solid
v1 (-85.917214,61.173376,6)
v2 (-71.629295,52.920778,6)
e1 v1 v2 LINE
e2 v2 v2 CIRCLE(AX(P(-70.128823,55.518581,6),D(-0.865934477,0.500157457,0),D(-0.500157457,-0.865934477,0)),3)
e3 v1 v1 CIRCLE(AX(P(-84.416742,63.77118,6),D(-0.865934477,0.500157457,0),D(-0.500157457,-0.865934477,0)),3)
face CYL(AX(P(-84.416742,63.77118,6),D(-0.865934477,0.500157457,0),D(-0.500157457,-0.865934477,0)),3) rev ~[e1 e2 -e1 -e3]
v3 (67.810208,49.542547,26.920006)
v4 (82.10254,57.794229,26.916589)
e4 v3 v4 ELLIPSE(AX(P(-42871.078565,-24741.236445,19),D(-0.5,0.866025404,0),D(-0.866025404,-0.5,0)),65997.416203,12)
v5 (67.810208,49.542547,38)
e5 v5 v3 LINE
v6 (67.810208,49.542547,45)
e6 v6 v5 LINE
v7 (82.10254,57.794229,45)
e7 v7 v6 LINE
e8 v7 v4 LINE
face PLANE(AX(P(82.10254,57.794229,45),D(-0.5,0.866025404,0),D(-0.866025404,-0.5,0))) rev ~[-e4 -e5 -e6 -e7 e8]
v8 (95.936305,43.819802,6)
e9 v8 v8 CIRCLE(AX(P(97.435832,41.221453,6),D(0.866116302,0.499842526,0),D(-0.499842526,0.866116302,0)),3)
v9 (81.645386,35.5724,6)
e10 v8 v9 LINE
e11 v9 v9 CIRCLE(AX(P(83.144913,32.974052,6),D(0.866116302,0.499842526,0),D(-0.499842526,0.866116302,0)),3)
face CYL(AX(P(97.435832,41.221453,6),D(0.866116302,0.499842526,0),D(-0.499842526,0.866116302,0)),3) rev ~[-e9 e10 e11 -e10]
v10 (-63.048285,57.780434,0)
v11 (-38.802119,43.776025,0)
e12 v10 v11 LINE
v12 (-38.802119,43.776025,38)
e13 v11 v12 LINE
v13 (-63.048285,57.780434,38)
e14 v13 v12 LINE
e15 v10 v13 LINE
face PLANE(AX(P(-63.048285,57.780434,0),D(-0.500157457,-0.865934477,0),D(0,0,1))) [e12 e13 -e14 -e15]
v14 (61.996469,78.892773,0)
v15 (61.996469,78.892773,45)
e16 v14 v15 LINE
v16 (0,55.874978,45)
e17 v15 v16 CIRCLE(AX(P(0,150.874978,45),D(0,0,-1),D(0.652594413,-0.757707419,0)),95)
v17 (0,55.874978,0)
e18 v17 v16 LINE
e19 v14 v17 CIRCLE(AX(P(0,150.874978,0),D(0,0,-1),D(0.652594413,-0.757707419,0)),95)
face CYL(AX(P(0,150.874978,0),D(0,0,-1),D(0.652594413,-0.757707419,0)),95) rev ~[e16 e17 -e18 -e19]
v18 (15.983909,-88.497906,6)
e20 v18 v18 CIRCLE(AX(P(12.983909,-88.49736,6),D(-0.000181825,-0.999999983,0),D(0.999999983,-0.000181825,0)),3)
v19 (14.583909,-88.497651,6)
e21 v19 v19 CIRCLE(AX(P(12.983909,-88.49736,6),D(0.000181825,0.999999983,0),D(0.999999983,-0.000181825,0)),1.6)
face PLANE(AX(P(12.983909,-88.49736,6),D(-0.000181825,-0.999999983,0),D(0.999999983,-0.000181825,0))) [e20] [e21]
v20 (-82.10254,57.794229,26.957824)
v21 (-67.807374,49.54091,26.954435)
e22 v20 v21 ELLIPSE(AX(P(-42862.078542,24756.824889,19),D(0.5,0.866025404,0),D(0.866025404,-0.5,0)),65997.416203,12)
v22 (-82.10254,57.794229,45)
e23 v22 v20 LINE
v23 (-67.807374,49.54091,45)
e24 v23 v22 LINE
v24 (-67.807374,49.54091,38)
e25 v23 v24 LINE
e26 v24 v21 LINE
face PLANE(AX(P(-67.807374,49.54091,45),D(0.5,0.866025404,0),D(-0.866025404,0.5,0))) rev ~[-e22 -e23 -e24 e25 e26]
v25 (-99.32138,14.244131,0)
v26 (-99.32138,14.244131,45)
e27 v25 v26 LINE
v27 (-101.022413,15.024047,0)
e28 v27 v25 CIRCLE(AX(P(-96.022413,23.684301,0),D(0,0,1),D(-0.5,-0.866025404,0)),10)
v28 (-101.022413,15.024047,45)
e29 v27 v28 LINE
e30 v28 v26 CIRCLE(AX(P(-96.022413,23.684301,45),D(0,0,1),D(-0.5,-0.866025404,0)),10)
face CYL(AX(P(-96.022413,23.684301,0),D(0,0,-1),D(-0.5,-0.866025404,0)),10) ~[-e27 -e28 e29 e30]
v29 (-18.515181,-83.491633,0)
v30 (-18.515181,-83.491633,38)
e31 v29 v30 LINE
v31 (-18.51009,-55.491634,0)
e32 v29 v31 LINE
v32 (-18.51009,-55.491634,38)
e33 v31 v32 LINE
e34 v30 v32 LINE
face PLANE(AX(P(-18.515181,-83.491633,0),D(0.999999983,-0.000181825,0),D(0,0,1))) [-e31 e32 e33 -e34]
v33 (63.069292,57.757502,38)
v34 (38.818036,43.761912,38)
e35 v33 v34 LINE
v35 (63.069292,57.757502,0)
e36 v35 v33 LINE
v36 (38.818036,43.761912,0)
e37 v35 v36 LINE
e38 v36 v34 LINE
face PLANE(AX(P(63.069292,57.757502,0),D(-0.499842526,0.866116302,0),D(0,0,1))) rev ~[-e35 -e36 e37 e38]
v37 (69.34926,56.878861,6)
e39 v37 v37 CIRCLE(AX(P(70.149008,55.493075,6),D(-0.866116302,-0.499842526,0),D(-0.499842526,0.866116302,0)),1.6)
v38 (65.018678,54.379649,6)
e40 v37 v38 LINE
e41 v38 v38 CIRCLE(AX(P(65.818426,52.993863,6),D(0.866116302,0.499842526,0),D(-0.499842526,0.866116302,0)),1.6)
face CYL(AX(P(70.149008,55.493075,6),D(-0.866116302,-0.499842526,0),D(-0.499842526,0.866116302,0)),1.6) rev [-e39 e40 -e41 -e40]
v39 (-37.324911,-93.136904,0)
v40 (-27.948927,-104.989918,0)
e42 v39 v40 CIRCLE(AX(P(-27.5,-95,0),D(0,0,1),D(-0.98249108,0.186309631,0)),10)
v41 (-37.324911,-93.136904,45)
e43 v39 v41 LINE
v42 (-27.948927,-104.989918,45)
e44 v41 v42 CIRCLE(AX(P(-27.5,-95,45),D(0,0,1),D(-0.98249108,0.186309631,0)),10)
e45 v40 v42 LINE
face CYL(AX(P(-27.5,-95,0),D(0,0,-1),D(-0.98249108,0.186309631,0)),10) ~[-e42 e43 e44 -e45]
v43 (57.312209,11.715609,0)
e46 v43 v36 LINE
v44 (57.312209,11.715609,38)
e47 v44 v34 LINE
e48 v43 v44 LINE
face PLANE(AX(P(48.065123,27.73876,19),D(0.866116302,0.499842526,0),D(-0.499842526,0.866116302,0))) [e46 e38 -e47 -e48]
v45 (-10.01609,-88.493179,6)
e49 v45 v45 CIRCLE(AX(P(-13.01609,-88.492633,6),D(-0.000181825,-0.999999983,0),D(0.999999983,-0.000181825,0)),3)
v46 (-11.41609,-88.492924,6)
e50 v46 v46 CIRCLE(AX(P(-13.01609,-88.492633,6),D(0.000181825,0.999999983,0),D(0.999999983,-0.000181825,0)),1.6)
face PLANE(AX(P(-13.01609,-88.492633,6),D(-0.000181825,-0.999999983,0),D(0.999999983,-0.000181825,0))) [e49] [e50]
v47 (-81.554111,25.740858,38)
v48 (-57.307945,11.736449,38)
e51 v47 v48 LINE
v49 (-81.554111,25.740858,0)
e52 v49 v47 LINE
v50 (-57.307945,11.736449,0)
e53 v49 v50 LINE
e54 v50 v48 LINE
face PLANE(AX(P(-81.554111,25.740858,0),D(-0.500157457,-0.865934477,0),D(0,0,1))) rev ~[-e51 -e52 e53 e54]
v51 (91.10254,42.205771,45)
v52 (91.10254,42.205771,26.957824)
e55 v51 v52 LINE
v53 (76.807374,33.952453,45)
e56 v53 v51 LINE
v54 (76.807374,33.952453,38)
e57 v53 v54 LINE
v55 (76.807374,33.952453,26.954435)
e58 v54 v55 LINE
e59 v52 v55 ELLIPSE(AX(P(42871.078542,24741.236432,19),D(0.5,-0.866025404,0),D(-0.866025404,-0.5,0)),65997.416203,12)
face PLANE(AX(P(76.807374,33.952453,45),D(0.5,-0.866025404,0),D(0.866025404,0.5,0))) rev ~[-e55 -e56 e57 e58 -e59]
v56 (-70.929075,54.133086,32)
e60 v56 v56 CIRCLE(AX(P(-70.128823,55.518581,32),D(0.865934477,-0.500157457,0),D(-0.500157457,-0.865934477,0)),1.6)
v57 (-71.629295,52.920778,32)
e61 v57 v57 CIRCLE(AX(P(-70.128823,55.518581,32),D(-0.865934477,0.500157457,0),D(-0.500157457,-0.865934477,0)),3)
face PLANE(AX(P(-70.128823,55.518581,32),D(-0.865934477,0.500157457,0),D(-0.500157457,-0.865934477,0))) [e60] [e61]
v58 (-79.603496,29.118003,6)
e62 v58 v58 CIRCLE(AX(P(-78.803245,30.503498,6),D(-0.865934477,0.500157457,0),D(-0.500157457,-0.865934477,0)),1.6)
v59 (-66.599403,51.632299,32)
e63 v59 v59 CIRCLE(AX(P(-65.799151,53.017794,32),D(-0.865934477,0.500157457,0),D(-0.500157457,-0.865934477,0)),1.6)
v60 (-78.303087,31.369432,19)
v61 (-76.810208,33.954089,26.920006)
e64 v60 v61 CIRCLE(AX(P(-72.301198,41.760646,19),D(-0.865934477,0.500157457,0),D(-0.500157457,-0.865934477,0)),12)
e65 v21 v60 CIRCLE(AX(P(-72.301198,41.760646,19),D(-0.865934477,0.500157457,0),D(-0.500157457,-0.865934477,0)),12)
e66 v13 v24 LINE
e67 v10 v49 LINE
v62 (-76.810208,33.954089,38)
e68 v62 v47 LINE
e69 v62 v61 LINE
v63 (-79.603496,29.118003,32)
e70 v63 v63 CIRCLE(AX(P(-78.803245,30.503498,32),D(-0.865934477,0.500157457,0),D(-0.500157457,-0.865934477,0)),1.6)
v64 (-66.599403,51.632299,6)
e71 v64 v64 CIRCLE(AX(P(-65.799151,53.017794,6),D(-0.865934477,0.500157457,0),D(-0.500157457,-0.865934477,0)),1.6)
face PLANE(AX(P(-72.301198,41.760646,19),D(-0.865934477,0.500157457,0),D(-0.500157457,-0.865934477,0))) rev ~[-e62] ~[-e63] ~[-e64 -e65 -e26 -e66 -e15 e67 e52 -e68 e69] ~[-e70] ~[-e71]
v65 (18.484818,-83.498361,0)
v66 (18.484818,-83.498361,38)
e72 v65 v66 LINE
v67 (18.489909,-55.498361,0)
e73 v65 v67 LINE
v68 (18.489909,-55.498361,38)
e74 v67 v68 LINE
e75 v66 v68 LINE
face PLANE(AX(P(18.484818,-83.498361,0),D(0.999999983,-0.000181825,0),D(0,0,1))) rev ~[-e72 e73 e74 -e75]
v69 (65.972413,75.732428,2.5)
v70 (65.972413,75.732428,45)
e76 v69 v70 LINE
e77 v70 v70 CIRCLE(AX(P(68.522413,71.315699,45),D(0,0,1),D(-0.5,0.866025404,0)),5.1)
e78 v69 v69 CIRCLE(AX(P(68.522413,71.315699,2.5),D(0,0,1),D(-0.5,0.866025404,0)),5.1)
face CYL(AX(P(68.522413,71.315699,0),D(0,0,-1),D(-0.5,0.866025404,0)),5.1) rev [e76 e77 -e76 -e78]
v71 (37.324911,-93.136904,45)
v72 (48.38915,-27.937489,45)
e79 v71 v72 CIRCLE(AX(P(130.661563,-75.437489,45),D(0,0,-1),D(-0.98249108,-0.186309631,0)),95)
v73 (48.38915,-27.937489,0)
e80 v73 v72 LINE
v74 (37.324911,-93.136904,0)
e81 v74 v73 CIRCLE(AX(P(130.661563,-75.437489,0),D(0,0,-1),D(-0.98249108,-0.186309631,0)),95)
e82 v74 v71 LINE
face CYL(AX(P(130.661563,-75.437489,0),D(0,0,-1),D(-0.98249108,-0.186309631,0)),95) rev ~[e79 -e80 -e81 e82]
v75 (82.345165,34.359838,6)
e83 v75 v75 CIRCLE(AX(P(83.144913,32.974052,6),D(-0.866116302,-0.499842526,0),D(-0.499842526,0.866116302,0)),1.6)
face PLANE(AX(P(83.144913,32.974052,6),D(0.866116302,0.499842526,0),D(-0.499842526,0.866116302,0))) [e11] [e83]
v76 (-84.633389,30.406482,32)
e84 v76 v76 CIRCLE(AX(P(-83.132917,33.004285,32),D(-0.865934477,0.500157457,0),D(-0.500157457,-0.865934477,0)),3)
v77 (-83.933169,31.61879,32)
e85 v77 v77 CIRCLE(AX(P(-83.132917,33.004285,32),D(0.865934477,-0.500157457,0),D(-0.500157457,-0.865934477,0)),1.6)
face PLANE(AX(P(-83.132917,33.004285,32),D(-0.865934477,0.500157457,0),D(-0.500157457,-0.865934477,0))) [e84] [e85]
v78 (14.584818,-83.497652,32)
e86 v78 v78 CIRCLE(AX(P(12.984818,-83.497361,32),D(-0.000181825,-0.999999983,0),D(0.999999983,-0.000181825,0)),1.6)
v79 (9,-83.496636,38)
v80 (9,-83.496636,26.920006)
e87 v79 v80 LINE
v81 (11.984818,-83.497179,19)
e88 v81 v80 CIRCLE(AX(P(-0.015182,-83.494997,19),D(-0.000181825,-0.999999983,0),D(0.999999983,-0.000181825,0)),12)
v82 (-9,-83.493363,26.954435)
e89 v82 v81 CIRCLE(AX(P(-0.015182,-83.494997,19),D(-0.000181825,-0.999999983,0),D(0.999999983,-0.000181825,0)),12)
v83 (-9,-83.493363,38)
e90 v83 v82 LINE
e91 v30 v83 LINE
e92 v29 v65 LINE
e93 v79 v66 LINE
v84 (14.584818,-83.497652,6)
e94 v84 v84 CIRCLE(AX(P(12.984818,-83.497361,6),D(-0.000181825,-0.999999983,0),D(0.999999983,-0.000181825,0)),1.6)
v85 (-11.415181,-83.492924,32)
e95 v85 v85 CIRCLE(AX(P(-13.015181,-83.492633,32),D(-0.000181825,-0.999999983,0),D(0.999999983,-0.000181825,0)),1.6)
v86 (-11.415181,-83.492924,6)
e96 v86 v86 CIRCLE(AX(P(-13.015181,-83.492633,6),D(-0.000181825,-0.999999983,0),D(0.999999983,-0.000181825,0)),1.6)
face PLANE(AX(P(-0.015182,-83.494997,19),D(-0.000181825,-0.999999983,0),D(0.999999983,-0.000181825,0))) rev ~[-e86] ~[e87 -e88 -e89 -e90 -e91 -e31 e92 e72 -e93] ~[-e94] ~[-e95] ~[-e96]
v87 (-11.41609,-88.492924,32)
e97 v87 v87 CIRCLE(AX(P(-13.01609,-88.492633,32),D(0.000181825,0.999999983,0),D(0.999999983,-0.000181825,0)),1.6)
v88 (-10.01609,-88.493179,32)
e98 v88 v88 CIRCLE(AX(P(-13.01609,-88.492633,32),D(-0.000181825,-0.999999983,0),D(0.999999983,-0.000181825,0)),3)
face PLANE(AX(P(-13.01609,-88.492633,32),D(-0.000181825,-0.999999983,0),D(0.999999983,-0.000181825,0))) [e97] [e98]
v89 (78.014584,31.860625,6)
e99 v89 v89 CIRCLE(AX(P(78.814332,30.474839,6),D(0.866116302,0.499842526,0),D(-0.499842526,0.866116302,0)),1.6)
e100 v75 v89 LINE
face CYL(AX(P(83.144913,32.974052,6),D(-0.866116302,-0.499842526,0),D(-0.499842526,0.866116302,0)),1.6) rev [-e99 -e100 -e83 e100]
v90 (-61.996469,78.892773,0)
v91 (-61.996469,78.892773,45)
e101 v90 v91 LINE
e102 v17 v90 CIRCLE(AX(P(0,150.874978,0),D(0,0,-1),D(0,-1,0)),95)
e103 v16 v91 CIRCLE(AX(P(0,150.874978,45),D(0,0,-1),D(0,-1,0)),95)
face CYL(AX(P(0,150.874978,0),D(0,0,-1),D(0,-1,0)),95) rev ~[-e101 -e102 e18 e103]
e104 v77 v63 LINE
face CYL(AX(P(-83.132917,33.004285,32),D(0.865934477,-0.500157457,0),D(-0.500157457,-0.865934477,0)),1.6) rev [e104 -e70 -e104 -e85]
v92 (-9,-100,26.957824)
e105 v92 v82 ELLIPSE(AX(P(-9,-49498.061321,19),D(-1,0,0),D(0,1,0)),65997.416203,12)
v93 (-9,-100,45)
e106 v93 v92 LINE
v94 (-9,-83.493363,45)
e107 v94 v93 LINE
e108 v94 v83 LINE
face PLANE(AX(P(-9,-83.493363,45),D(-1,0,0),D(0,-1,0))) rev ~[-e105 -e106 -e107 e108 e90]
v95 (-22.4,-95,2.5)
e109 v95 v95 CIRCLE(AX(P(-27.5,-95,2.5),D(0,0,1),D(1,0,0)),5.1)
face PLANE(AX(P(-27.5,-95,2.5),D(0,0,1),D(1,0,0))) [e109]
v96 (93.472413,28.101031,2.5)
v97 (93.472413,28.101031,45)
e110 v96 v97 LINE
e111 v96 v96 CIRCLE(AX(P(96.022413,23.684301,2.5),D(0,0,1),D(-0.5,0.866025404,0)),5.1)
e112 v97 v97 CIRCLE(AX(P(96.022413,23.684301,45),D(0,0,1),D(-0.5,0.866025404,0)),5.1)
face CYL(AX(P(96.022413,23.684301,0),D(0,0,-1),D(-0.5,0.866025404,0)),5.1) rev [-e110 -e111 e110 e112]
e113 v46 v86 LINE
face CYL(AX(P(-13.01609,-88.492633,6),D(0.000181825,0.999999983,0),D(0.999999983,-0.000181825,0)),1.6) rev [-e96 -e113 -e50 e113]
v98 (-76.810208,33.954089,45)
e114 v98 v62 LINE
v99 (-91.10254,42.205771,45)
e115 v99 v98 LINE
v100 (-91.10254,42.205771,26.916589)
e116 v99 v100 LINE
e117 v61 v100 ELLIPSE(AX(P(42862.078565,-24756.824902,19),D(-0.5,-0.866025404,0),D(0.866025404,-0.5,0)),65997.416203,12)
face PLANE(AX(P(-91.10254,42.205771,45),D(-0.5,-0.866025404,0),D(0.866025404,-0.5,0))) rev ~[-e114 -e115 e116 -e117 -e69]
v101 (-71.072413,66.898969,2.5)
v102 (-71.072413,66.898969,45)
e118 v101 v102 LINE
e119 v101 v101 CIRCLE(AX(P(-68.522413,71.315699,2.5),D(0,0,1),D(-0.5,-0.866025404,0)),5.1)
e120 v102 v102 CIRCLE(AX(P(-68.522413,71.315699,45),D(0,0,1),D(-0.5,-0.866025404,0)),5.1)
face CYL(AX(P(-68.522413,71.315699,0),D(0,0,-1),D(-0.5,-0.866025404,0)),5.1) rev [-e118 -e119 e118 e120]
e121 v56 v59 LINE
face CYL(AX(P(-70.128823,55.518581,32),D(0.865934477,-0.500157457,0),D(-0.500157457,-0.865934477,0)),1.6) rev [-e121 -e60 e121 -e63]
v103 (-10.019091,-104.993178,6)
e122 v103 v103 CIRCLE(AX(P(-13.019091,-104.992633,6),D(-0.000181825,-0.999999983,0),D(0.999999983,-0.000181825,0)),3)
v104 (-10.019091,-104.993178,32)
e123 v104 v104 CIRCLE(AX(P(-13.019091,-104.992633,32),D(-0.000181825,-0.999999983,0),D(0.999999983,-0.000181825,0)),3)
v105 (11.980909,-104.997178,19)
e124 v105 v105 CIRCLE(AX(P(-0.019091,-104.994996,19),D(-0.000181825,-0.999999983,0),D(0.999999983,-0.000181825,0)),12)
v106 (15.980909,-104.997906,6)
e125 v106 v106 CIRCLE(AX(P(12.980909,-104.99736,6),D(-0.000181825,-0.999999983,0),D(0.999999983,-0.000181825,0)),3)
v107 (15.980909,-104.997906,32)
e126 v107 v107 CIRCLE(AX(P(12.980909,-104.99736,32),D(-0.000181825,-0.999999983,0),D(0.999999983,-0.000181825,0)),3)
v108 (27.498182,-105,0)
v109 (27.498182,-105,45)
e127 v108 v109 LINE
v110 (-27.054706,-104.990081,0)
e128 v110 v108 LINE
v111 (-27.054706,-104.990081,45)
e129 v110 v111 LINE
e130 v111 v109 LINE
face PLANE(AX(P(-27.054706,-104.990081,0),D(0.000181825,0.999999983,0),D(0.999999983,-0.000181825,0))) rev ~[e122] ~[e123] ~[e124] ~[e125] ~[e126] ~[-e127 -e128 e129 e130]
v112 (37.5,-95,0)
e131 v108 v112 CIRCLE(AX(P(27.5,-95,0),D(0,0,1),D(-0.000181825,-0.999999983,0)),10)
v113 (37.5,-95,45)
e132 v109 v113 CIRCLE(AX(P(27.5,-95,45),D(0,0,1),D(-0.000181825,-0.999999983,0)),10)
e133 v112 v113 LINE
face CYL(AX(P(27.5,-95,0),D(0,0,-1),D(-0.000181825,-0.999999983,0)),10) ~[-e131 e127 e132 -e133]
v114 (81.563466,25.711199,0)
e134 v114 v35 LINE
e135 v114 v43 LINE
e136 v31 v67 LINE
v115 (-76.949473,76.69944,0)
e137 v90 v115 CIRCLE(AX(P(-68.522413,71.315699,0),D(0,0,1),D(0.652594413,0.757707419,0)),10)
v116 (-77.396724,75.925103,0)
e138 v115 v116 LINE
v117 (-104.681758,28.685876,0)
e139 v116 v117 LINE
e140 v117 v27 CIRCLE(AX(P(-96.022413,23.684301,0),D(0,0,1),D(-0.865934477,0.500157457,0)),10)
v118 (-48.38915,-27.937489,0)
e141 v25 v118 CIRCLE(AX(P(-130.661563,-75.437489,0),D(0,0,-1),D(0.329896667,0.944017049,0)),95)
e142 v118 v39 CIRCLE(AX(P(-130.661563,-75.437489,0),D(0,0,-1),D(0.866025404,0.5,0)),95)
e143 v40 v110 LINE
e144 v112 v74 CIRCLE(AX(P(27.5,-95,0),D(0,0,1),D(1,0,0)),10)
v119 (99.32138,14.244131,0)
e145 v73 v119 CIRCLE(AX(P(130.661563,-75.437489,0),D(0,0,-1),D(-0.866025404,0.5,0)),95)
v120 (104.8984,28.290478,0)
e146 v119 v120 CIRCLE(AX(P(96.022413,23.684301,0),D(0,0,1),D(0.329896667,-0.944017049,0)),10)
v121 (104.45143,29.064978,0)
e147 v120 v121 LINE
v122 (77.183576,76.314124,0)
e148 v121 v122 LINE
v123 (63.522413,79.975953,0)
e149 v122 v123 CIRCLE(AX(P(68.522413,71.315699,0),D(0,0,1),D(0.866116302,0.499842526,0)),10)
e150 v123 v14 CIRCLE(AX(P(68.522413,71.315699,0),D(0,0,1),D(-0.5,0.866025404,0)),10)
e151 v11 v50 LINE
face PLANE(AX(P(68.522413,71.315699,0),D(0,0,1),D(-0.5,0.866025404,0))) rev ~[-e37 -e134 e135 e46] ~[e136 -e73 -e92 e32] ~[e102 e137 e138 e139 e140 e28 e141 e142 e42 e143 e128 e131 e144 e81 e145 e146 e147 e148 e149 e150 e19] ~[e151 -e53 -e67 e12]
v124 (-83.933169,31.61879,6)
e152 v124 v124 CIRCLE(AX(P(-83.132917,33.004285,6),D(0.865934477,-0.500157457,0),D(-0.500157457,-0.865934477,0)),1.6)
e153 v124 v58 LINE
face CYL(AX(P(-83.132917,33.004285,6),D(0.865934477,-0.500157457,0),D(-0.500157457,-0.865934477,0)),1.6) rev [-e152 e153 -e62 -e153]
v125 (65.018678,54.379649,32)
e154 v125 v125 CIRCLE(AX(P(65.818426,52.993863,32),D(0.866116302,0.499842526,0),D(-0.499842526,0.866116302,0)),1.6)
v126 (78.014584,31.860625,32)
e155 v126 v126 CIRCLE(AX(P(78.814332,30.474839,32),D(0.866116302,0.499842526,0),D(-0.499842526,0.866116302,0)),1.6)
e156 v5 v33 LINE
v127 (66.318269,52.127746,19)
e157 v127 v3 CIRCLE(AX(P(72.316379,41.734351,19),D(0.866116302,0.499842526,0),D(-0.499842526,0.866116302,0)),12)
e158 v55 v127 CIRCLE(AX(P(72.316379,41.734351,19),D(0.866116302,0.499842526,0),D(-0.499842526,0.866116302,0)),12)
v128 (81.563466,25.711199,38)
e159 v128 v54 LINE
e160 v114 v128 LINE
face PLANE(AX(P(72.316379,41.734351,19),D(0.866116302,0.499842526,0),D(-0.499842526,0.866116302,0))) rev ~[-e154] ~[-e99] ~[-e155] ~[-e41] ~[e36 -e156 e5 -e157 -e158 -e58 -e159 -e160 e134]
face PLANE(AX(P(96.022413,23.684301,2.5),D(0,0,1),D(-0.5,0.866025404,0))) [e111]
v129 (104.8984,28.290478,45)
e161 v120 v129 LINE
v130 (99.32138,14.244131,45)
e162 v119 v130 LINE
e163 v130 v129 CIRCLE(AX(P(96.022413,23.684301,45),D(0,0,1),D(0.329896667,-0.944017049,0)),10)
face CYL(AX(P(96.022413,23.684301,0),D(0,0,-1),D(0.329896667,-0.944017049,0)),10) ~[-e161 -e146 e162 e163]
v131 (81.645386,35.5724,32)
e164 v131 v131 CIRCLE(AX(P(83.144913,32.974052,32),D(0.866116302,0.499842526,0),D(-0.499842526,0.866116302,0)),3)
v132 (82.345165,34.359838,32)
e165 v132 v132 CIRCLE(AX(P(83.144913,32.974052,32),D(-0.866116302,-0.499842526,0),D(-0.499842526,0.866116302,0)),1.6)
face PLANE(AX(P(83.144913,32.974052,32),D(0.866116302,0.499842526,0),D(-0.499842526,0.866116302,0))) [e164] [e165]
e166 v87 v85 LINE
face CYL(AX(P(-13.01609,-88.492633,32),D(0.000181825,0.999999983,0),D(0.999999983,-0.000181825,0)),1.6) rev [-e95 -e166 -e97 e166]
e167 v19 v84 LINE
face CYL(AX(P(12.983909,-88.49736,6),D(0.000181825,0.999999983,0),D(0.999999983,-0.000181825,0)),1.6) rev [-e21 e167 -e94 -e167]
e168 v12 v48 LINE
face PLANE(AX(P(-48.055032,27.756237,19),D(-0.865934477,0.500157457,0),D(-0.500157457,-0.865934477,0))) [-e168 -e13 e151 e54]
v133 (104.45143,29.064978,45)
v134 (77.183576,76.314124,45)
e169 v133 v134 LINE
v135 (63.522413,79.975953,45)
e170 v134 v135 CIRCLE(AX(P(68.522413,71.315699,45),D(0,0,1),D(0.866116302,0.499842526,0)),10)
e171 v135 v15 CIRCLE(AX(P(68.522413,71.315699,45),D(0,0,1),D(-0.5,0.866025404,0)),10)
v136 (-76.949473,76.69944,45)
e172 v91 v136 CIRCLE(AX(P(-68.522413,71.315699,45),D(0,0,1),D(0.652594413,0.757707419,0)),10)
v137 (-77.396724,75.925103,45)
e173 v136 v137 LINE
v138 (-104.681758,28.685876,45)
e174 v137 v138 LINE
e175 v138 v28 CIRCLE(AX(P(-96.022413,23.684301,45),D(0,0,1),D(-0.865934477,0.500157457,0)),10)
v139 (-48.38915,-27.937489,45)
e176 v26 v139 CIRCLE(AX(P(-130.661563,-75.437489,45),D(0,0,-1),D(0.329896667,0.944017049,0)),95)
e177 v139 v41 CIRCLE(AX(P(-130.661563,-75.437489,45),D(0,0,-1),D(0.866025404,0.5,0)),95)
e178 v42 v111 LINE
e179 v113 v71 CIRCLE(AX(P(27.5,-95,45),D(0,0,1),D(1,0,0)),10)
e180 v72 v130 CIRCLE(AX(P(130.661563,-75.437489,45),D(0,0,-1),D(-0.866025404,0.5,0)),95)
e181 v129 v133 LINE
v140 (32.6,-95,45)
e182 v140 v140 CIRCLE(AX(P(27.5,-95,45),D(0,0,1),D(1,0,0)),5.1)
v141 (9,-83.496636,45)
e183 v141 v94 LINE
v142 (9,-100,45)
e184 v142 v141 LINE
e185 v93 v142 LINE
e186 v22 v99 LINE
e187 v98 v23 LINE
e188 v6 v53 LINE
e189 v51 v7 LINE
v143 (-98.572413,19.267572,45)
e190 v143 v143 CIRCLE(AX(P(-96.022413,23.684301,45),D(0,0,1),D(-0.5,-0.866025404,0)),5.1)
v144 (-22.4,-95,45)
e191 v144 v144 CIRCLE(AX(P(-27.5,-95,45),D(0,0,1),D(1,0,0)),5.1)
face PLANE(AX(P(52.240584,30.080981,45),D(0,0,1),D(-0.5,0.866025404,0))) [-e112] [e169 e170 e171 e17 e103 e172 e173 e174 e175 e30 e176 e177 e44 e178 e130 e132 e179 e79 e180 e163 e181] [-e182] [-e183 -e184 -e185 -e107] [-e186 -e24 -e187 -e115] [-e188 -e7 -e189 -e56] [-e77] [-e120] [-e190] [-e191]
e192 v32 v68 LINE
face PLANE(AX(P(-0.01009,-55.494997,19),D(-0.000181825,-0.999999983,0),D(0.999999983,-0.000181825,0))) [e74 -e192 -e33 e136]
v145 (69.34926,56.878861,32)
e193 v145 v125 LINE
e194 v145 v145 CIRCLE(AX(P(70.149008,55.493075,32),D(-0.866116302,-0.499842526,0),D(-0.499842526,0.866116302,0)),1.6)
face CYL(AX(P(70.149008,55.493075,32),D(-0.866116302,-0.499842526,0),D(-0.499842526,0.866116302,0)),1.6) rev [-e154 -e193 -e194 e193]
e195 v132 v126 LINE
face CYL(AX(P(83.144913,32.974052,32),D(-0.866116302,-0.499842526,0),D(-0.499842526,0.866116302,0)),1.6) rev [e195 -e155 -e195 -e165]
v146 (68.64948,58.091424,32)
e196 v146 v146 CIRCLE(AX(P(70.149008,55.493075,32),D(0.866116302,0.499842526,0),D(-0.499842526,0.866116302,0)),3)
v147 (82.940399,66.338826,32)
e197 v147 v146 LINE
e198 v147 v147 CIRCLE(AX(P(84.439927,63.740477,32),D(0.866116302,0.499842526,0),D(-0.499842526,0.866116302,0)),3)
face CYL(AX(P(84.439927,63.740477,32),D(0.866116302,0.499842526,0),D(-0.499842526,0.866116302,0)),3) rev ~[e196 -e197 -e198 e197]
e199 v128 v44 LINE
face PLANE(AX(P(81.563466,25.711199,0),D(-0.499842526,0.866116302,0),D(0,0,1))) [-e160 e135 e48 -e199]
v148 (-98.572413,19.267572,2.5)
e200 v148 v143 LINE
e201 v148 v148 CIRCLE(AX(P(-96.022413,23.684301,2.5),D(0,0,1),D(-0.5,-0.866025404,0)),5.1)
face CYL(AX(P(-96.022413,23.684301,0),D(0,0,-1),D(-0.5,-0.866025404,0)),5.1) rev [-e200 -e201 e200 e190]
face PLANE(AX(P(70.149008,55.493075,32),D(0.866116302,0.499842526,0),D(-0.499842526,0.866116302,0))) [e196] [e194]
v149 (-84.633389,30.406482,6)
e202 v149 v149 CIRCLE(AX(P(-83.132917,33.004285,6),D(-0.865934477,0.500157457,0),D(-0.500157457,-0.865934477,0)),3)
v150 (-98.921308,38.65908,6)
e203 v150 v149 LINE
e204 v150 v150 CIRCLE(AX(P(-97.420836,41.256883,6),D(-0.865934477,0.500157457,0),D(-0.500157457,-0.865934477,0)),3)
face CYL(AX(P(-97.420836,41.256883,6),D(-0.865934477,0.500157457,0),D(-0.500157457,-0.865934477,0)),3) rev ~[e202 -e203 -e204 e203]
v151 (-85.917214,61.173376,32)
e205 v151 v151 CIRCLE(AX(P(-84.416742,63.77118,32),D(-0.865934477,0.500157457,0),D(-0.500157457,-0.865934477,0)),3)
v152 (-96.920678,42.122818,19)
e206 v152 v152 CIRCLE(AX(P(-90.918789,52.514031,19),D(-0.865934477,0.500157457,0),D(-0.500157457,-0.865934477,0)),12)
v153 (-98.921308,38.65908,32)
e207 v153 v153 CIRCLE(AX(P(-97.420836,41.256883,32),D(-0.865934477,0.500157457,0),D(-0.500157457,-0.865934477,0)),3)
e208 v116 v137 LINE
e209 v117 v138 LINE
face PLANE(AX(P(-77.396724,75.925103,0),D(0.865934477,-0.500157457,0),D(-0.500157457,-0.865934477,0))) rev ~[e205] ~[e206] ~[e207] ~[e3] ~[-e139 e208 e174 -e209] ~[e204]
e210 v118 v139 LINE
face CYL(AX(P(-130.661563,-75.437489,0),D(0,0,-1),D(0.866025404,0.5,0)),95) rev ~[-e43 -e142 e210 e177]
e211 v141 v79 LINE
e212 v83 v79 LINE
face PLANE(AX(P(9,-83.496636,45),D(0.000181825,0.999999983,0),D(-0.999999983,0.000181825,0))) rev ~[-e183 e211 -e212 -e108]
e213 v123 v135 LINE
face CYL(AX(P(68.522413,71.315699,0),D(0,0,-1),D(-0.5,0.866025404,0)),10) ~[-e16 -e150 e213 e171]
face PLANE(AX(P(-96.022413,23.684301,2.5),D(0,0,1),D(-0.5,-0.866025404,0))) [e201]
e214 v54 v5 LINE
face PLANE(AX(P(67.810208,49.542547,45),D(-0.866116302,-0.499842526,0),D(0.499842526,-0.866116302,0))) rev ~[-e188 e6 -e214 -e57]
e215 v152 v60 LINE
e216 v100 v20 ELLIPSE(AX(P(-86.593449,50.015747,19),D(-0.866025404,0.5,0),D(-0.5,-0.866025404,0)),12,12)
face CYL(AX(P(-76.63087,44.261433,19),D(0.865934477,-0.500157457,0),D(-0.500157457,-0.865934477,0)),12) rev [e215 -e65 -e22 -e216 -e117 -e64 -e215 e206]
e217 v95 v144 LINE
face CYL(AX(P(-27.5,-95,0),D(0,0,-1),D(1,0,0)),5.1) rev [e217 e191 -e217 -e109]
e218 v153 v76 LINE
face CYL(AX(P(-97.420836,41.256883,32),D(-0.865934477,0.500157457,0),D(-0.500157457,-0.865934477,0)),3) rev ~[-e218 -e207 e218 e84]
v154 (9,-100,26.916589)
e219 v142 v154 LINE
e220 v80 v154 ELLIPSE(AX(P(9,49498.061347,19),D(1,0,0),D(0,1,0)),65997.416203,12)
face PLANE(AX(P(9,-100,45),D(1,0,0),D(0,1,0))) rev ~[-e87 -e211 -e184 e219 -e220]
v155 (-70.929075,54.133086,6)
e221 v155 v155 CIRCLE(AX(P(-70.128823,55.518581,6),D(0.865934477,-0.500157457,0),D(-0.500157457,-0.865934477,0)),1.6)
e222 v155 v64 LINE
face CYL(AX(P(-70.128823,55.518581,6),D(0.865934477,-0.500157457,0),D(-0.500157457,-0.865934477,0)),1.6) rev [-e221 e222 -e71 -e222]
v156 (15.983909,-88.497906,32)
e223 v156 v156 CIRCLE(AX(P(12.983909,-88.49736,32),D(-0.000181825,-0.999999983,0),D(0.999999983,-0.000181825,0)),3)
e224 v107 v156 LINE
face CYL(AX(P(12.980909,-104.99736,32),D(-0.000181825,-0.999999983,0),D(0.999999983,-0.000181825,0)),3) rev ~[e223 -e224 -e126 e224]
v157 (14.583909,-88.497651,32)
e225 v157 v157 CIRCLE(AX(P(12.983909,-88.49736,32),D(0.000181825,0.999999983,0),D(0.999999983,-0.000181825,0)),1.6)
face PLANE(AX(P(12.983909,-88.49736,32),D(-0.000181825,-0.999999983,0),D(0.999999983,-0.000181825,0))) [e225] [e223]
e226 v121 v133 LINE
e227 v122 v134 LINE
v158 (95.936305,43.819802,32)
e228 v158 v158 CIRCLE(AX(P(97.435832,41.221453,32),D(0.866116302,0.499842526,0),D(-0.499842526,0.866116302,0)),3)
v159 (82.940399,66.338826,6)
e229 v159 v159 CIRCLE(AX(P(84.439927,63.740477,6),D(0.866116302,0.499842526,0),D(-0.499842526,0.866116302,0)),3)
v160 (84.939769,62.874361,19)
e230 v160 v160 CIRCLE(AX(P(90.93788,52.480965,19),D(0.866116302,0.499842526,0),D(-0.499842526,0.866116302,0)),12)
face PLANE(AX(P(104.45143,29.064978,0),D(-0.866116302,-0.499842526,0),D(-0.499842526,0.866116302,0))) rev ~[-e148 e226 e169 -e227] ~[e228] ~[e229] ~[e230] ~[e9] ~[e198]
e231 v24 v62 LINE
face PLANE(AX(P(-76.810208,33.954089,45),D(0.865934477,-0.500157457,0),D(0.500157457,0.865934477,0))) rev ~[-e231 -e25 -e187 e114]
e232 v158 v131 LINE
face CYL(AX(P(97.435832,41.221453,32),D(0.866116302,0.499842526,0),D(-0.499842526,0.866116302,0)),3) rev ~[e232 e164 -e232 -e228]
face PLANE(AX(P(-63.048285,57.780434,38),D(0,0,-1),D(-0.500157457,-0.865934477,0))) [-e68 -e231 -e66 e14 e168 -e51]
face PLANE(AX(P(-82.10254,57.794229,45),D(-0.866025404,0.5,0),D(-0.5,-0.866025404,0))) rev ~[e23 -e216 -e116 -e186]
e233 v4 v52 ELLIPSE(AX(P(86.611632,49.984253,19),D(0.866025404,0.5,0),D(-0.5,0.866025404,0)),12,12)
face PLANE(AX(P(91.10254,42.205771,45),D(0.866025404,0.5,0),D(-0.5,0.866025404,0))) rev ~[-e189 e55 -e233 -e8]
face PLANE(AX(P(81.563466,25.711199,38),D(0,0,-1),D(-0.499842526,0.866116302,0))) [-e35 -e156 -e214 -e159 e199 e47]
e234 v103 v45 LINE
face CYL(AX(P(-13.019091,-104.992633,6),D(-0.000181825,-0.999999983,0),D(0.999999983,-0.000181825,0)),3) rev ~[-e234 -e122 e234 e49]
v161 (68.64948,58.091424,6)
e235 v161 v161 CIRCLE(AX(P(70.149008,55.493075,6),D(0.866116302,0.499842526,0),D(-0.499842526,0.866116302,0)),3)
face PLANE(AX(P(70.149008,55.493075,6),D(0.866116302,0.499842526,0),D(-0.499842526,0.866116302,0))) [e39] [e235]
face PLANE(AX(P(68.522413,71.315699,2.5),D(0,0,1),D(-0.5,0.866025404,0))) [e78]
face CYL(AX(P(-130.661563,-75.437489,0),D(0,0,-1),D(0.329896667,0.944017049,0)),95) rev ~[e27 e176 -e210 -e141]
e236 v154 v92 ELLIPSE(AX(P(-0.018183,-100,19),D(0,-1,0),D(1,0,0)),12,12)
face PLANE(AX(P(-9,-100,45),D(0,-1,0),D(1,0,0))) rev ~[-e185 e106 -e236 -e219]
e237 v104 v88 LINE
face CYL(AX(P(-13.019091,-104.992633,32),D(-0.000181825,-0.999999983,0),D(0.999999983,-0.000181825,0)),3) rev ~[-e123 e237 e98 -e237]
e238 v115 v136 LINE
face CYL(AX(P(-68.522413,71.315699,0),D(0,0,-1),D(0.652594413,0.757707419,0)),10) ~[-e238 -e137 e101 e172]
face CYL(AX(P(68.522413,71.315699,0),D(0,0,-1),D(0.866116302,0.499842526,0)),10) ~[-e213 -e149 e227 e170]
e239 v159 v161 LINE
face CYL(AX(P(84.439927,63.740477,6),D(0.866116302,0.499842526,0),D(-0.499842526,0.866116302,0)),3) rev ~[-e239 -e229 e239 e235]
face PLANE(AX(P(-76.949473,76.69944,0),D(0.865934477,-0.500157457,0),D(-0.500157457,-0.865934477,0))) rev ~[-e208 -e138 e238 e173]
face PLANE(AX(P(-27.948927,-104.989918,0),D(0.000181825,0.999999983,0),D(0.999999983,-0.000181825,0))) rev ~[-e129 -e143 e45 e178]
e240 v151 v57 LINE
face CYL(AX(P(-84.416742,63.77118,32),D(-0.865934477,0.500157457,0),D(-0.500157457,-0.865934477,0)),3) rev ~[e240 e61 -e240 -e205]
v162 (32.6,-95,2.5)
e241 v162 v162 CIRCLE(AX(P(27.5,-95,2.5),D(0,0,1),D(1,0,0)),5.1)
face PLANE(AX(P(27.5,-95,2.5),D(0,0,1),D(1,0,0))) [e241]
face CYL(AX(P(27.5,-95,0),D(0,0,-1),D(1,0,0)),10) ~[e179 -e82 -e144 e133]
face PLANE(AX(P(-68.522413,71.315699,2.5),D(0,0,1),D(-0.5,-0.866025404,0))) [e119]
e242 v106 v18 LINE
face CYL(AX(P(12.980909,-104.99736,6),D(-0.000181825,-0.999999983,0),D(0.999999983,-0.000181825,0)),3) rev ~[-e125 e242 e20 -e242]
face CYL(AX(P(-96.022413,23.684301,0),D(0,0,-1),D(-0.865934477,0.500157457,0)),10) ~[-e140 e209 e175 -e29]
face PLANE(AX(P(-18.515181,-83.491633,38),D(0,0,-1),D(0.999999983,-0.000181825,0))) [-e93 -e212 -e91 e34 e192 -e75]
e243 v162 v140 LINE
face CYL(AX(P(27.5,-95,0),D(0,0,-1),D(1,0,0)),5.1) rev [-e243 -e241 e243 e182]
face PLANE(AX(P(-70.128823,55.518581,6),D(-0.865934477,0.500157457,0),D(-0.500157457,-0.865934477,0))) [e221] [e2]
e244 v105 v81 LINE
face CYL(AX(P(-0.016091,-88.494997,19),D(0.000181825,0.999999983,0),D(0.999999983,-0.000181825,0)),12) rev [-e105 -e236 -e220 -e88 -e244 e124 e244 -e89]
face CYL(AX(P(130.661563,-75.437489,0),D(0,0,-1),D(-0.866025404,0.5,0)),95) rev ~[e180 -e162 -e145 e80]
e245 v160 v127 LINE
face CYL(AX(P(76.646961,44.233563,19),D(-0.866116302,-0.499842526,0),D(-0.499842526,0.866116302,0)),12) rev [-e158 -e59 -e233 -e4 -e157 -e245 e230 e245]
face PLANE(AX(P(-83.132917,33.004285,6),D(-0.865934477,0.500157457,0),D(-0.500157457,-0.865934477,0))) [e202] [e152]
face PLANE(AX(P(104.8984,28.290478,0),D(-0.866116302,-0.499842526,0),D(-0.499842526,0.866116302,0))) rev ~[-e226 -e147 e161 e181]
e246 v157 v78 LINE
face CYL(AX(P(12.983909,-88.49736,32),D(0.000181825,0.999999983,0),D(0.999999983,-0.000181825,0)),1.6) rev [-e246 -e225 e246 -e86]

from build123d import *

# Parameters (mm, degrees)
F0_R          = 5.1
F1_DEPTH      = 45
F2_DEPTH      = 2.5
F6_START      = -5
F4_W          = 37
F4_H          = 38
F4_R          = 1.6
F4_R_2        = 12
F6_DEPTH      = 28
F7_DEPTH      = 5
F7_DEPTH_BACK = 16.5
F5_R          = 3
F8_DEPTH      = 16.5
F9_W          = 18
F9_H          = 10
F10_DEPTH     = 19.0834106782
F11_COUNT     = 3
F11_ANGLE     = 480


with BuildPart() as f1:
    # F0 (on Top) → F1 (new body)
    with BuildSketch(Plane.XY):
        with BuildLine():
            Line((48.3891499996, -27.9374887781), (0, 0))
            Line((0, 0), (-48.3891499996, -27.9374887781))
            ThreePointArc((-48.3891499996, -27.9374887781), (-37.0005953155, -59.5433683199), (-37.3249107961, -93.1369036932))
            ThreePointArc((-37.3249107961, -93.1369036932), (-26.5643472762, -85.0438685233), (-17.5, -95))
            ThreePointArc((-17.5, -95), (-20.2732115997, -101.9118397997), (-27.0547058834, -104.9900807379))
            Line((-27.0547058834, -104.9900807379), (27.4981817467, -104.9999998347))
            ThreePointArc((27.4981817467, -104.9999998347), (19.7989254456, -88.6208581527), (37.3249107961, -93.1369036932))
            ThreePointArc((37.3249107961, -93.1369036932), (37.0005953155, -59.5433683199), (48.3891499996, -27.9374887781))
        make_face()
        with BuildLine():
            ThreePointArc((37.5, -95), (37.4561314767, -94.0643472762), (37.3249107961, -93.1369036932))
            ThreePointArc((37.3249107961, -93.1369036932), (19.7989254456, -88.6208581527), (27.4981817467, -104.9999998347))
            ThreePointArc((27.4981817467, -104.9999998347), (34.570424933, -102.0717106323), (37.5, -95))
        make_face()
        with Locations((27.5, -95)):
            Circle(F0_R, mode=Mode.SUBTRACT)
        with BuildLine():
            ThreePointArc((-17.5, -95), (-26.5643472762, -85.0438685233), (-37.3249107961, -93.1369036932))
            ThreePointArc((-37.3249107961, -93.1369036932), (-35.342921879, -101.2039162148), (-27.9489269865, -104.9899181459))
            Line((-27.9489269865, -104.9899181459), (-27.0547058834, -104.9900807379))
            ThreePointArc((-27.0547058834, -104.9900807379), (-20.2732115997, -101.9118397997), (-17.5, -95))
        make_face()
        with Locations((-27.5, -95)):
            Circle(F0_R, mode=Mode.SUBTRACT)
    extrude(amount=F1_DEPTH)

    # F0 (on Top) → F2 (join)
    with BuildSketch(Plane.XY):
        with Locations((27.5, -95)):
            Circle(F0_R)
        with Locations((-27.5, -95)):
            Circle(F0_R)
    extrude(amount=F2_DEPTH)

    # F4 (on offset) → F6 (cut)
    with BuildSketch(Plane(origin=(-0.016090632, -88.4949967703, 0), x_dir=(0.9999999835, -0.0001818253, 0), z_dir=(-0.0001818253, -0.9999999835, 0)).offset(F6_START)):
        with Locations((0, 19)):
            Rectangle(F4_W, F4_H)
        with Locations((-13, 6)):
            Circle(F4_R, mode=Mode.SUBTRACT)
        with Locations((13, 6)):
            Circle(F4_R, mode=Mode.SUBTRACT)
        with Locations((-13, 32)):
            Circle(F4_R, mode=Mode.SUBTRACT)
        with Locations((0, 19)):
            Circle(F4_R_2, mode=Mode.SUBTRACT)
        with Locations((13, 32)):
            Circle(F4_R, mode=Mode.SUBTRACT)
        with Locations((0, 19)):
            Circle(F4_R_2)
        with Locations((-13, 32)):
            Circle(F4_R)
        with Locations((13, 32)):
            Circle(F4_R)
        with Locations((13, 6)):
            Circle(F4_R)
        with Locations((-13, 6)):
            Circle(F4_R)
    extrude(amount=-F6_DEPTH, mode=Mode.SUBTRACT)

    # F4 (on offset) → F7 (cut, two sides)
    with BuildSketch(Plane(origin=(-0.016090632, -88.4949967703, 0), x_dir=(0.9999999835, -0.0001818253, 0), z_dir=(-0.0001818253, -0.9999999835, 0))) as f7_sk:
        with Locations((0, 19)):
            Circle(F4_R_2)
        with Locations((-13, 32)):
            Circle(F4_R)
        with Locations((13, 32)):
            Circle(F4_R)
        with Locations((-13, 6)):
            Circle(F4_R)
        with Locations((13, 6)):
            Circle(F4_R)
    extrude(amount=-F7_DEPTH, mode=Mode.SUBTRACT)
    extrude(f7_sk.sketch, amount=F7_DEPTH_BACK, mode=Mode.SUBTRACT)

    # F5 (on face) → F8 (cut)
    with BuildSketch(Plane(origin=(-0.0190907499, -104.9949964975, 0), x_dir=(0.9999999835, -0.0001818253, 0), z_dir=(-0.0001818253, -0.9999999835, 0))):
        with Locations((-13, 32)):
            Circle(F5_R)
        with Locations((13, 32)):
            Circle(F5_R)
        with Locations((13, 6)):
            Circle(F5_R)
        with Locations((-13, 6)):
            Circle(F5_R)
    extrude(amount=-F8_DEPTH, mode=Mode.SUBTRACT)

    # F9 (on face) → F10 (cut, up to face)
    with BuildSketch(Plane.XY.offset(45)):
        Polygon((9, -83.4966360413), (-9, -83.4933631854), (-9, -90), (9, -90), align=None)
        with Locations((0, -95)):
            Rectangle(F9_W, F9_H)
    extrude(amount=-F10_DEPTH, mode=Mode.SUBTRACT)

    # F11: F1 ×3 about axis
    f11_axis = Axis((0, 0, 0), (0, 0, 1))


with BuildPart() as f1_1:
    add(f1.part)
    for i in range(1, F11_COUNT):
        add(f1.part.rotate(f11_axis, i * F11_ANGLE / (F11_COUNT - 1)))


solid = f1_1.part
